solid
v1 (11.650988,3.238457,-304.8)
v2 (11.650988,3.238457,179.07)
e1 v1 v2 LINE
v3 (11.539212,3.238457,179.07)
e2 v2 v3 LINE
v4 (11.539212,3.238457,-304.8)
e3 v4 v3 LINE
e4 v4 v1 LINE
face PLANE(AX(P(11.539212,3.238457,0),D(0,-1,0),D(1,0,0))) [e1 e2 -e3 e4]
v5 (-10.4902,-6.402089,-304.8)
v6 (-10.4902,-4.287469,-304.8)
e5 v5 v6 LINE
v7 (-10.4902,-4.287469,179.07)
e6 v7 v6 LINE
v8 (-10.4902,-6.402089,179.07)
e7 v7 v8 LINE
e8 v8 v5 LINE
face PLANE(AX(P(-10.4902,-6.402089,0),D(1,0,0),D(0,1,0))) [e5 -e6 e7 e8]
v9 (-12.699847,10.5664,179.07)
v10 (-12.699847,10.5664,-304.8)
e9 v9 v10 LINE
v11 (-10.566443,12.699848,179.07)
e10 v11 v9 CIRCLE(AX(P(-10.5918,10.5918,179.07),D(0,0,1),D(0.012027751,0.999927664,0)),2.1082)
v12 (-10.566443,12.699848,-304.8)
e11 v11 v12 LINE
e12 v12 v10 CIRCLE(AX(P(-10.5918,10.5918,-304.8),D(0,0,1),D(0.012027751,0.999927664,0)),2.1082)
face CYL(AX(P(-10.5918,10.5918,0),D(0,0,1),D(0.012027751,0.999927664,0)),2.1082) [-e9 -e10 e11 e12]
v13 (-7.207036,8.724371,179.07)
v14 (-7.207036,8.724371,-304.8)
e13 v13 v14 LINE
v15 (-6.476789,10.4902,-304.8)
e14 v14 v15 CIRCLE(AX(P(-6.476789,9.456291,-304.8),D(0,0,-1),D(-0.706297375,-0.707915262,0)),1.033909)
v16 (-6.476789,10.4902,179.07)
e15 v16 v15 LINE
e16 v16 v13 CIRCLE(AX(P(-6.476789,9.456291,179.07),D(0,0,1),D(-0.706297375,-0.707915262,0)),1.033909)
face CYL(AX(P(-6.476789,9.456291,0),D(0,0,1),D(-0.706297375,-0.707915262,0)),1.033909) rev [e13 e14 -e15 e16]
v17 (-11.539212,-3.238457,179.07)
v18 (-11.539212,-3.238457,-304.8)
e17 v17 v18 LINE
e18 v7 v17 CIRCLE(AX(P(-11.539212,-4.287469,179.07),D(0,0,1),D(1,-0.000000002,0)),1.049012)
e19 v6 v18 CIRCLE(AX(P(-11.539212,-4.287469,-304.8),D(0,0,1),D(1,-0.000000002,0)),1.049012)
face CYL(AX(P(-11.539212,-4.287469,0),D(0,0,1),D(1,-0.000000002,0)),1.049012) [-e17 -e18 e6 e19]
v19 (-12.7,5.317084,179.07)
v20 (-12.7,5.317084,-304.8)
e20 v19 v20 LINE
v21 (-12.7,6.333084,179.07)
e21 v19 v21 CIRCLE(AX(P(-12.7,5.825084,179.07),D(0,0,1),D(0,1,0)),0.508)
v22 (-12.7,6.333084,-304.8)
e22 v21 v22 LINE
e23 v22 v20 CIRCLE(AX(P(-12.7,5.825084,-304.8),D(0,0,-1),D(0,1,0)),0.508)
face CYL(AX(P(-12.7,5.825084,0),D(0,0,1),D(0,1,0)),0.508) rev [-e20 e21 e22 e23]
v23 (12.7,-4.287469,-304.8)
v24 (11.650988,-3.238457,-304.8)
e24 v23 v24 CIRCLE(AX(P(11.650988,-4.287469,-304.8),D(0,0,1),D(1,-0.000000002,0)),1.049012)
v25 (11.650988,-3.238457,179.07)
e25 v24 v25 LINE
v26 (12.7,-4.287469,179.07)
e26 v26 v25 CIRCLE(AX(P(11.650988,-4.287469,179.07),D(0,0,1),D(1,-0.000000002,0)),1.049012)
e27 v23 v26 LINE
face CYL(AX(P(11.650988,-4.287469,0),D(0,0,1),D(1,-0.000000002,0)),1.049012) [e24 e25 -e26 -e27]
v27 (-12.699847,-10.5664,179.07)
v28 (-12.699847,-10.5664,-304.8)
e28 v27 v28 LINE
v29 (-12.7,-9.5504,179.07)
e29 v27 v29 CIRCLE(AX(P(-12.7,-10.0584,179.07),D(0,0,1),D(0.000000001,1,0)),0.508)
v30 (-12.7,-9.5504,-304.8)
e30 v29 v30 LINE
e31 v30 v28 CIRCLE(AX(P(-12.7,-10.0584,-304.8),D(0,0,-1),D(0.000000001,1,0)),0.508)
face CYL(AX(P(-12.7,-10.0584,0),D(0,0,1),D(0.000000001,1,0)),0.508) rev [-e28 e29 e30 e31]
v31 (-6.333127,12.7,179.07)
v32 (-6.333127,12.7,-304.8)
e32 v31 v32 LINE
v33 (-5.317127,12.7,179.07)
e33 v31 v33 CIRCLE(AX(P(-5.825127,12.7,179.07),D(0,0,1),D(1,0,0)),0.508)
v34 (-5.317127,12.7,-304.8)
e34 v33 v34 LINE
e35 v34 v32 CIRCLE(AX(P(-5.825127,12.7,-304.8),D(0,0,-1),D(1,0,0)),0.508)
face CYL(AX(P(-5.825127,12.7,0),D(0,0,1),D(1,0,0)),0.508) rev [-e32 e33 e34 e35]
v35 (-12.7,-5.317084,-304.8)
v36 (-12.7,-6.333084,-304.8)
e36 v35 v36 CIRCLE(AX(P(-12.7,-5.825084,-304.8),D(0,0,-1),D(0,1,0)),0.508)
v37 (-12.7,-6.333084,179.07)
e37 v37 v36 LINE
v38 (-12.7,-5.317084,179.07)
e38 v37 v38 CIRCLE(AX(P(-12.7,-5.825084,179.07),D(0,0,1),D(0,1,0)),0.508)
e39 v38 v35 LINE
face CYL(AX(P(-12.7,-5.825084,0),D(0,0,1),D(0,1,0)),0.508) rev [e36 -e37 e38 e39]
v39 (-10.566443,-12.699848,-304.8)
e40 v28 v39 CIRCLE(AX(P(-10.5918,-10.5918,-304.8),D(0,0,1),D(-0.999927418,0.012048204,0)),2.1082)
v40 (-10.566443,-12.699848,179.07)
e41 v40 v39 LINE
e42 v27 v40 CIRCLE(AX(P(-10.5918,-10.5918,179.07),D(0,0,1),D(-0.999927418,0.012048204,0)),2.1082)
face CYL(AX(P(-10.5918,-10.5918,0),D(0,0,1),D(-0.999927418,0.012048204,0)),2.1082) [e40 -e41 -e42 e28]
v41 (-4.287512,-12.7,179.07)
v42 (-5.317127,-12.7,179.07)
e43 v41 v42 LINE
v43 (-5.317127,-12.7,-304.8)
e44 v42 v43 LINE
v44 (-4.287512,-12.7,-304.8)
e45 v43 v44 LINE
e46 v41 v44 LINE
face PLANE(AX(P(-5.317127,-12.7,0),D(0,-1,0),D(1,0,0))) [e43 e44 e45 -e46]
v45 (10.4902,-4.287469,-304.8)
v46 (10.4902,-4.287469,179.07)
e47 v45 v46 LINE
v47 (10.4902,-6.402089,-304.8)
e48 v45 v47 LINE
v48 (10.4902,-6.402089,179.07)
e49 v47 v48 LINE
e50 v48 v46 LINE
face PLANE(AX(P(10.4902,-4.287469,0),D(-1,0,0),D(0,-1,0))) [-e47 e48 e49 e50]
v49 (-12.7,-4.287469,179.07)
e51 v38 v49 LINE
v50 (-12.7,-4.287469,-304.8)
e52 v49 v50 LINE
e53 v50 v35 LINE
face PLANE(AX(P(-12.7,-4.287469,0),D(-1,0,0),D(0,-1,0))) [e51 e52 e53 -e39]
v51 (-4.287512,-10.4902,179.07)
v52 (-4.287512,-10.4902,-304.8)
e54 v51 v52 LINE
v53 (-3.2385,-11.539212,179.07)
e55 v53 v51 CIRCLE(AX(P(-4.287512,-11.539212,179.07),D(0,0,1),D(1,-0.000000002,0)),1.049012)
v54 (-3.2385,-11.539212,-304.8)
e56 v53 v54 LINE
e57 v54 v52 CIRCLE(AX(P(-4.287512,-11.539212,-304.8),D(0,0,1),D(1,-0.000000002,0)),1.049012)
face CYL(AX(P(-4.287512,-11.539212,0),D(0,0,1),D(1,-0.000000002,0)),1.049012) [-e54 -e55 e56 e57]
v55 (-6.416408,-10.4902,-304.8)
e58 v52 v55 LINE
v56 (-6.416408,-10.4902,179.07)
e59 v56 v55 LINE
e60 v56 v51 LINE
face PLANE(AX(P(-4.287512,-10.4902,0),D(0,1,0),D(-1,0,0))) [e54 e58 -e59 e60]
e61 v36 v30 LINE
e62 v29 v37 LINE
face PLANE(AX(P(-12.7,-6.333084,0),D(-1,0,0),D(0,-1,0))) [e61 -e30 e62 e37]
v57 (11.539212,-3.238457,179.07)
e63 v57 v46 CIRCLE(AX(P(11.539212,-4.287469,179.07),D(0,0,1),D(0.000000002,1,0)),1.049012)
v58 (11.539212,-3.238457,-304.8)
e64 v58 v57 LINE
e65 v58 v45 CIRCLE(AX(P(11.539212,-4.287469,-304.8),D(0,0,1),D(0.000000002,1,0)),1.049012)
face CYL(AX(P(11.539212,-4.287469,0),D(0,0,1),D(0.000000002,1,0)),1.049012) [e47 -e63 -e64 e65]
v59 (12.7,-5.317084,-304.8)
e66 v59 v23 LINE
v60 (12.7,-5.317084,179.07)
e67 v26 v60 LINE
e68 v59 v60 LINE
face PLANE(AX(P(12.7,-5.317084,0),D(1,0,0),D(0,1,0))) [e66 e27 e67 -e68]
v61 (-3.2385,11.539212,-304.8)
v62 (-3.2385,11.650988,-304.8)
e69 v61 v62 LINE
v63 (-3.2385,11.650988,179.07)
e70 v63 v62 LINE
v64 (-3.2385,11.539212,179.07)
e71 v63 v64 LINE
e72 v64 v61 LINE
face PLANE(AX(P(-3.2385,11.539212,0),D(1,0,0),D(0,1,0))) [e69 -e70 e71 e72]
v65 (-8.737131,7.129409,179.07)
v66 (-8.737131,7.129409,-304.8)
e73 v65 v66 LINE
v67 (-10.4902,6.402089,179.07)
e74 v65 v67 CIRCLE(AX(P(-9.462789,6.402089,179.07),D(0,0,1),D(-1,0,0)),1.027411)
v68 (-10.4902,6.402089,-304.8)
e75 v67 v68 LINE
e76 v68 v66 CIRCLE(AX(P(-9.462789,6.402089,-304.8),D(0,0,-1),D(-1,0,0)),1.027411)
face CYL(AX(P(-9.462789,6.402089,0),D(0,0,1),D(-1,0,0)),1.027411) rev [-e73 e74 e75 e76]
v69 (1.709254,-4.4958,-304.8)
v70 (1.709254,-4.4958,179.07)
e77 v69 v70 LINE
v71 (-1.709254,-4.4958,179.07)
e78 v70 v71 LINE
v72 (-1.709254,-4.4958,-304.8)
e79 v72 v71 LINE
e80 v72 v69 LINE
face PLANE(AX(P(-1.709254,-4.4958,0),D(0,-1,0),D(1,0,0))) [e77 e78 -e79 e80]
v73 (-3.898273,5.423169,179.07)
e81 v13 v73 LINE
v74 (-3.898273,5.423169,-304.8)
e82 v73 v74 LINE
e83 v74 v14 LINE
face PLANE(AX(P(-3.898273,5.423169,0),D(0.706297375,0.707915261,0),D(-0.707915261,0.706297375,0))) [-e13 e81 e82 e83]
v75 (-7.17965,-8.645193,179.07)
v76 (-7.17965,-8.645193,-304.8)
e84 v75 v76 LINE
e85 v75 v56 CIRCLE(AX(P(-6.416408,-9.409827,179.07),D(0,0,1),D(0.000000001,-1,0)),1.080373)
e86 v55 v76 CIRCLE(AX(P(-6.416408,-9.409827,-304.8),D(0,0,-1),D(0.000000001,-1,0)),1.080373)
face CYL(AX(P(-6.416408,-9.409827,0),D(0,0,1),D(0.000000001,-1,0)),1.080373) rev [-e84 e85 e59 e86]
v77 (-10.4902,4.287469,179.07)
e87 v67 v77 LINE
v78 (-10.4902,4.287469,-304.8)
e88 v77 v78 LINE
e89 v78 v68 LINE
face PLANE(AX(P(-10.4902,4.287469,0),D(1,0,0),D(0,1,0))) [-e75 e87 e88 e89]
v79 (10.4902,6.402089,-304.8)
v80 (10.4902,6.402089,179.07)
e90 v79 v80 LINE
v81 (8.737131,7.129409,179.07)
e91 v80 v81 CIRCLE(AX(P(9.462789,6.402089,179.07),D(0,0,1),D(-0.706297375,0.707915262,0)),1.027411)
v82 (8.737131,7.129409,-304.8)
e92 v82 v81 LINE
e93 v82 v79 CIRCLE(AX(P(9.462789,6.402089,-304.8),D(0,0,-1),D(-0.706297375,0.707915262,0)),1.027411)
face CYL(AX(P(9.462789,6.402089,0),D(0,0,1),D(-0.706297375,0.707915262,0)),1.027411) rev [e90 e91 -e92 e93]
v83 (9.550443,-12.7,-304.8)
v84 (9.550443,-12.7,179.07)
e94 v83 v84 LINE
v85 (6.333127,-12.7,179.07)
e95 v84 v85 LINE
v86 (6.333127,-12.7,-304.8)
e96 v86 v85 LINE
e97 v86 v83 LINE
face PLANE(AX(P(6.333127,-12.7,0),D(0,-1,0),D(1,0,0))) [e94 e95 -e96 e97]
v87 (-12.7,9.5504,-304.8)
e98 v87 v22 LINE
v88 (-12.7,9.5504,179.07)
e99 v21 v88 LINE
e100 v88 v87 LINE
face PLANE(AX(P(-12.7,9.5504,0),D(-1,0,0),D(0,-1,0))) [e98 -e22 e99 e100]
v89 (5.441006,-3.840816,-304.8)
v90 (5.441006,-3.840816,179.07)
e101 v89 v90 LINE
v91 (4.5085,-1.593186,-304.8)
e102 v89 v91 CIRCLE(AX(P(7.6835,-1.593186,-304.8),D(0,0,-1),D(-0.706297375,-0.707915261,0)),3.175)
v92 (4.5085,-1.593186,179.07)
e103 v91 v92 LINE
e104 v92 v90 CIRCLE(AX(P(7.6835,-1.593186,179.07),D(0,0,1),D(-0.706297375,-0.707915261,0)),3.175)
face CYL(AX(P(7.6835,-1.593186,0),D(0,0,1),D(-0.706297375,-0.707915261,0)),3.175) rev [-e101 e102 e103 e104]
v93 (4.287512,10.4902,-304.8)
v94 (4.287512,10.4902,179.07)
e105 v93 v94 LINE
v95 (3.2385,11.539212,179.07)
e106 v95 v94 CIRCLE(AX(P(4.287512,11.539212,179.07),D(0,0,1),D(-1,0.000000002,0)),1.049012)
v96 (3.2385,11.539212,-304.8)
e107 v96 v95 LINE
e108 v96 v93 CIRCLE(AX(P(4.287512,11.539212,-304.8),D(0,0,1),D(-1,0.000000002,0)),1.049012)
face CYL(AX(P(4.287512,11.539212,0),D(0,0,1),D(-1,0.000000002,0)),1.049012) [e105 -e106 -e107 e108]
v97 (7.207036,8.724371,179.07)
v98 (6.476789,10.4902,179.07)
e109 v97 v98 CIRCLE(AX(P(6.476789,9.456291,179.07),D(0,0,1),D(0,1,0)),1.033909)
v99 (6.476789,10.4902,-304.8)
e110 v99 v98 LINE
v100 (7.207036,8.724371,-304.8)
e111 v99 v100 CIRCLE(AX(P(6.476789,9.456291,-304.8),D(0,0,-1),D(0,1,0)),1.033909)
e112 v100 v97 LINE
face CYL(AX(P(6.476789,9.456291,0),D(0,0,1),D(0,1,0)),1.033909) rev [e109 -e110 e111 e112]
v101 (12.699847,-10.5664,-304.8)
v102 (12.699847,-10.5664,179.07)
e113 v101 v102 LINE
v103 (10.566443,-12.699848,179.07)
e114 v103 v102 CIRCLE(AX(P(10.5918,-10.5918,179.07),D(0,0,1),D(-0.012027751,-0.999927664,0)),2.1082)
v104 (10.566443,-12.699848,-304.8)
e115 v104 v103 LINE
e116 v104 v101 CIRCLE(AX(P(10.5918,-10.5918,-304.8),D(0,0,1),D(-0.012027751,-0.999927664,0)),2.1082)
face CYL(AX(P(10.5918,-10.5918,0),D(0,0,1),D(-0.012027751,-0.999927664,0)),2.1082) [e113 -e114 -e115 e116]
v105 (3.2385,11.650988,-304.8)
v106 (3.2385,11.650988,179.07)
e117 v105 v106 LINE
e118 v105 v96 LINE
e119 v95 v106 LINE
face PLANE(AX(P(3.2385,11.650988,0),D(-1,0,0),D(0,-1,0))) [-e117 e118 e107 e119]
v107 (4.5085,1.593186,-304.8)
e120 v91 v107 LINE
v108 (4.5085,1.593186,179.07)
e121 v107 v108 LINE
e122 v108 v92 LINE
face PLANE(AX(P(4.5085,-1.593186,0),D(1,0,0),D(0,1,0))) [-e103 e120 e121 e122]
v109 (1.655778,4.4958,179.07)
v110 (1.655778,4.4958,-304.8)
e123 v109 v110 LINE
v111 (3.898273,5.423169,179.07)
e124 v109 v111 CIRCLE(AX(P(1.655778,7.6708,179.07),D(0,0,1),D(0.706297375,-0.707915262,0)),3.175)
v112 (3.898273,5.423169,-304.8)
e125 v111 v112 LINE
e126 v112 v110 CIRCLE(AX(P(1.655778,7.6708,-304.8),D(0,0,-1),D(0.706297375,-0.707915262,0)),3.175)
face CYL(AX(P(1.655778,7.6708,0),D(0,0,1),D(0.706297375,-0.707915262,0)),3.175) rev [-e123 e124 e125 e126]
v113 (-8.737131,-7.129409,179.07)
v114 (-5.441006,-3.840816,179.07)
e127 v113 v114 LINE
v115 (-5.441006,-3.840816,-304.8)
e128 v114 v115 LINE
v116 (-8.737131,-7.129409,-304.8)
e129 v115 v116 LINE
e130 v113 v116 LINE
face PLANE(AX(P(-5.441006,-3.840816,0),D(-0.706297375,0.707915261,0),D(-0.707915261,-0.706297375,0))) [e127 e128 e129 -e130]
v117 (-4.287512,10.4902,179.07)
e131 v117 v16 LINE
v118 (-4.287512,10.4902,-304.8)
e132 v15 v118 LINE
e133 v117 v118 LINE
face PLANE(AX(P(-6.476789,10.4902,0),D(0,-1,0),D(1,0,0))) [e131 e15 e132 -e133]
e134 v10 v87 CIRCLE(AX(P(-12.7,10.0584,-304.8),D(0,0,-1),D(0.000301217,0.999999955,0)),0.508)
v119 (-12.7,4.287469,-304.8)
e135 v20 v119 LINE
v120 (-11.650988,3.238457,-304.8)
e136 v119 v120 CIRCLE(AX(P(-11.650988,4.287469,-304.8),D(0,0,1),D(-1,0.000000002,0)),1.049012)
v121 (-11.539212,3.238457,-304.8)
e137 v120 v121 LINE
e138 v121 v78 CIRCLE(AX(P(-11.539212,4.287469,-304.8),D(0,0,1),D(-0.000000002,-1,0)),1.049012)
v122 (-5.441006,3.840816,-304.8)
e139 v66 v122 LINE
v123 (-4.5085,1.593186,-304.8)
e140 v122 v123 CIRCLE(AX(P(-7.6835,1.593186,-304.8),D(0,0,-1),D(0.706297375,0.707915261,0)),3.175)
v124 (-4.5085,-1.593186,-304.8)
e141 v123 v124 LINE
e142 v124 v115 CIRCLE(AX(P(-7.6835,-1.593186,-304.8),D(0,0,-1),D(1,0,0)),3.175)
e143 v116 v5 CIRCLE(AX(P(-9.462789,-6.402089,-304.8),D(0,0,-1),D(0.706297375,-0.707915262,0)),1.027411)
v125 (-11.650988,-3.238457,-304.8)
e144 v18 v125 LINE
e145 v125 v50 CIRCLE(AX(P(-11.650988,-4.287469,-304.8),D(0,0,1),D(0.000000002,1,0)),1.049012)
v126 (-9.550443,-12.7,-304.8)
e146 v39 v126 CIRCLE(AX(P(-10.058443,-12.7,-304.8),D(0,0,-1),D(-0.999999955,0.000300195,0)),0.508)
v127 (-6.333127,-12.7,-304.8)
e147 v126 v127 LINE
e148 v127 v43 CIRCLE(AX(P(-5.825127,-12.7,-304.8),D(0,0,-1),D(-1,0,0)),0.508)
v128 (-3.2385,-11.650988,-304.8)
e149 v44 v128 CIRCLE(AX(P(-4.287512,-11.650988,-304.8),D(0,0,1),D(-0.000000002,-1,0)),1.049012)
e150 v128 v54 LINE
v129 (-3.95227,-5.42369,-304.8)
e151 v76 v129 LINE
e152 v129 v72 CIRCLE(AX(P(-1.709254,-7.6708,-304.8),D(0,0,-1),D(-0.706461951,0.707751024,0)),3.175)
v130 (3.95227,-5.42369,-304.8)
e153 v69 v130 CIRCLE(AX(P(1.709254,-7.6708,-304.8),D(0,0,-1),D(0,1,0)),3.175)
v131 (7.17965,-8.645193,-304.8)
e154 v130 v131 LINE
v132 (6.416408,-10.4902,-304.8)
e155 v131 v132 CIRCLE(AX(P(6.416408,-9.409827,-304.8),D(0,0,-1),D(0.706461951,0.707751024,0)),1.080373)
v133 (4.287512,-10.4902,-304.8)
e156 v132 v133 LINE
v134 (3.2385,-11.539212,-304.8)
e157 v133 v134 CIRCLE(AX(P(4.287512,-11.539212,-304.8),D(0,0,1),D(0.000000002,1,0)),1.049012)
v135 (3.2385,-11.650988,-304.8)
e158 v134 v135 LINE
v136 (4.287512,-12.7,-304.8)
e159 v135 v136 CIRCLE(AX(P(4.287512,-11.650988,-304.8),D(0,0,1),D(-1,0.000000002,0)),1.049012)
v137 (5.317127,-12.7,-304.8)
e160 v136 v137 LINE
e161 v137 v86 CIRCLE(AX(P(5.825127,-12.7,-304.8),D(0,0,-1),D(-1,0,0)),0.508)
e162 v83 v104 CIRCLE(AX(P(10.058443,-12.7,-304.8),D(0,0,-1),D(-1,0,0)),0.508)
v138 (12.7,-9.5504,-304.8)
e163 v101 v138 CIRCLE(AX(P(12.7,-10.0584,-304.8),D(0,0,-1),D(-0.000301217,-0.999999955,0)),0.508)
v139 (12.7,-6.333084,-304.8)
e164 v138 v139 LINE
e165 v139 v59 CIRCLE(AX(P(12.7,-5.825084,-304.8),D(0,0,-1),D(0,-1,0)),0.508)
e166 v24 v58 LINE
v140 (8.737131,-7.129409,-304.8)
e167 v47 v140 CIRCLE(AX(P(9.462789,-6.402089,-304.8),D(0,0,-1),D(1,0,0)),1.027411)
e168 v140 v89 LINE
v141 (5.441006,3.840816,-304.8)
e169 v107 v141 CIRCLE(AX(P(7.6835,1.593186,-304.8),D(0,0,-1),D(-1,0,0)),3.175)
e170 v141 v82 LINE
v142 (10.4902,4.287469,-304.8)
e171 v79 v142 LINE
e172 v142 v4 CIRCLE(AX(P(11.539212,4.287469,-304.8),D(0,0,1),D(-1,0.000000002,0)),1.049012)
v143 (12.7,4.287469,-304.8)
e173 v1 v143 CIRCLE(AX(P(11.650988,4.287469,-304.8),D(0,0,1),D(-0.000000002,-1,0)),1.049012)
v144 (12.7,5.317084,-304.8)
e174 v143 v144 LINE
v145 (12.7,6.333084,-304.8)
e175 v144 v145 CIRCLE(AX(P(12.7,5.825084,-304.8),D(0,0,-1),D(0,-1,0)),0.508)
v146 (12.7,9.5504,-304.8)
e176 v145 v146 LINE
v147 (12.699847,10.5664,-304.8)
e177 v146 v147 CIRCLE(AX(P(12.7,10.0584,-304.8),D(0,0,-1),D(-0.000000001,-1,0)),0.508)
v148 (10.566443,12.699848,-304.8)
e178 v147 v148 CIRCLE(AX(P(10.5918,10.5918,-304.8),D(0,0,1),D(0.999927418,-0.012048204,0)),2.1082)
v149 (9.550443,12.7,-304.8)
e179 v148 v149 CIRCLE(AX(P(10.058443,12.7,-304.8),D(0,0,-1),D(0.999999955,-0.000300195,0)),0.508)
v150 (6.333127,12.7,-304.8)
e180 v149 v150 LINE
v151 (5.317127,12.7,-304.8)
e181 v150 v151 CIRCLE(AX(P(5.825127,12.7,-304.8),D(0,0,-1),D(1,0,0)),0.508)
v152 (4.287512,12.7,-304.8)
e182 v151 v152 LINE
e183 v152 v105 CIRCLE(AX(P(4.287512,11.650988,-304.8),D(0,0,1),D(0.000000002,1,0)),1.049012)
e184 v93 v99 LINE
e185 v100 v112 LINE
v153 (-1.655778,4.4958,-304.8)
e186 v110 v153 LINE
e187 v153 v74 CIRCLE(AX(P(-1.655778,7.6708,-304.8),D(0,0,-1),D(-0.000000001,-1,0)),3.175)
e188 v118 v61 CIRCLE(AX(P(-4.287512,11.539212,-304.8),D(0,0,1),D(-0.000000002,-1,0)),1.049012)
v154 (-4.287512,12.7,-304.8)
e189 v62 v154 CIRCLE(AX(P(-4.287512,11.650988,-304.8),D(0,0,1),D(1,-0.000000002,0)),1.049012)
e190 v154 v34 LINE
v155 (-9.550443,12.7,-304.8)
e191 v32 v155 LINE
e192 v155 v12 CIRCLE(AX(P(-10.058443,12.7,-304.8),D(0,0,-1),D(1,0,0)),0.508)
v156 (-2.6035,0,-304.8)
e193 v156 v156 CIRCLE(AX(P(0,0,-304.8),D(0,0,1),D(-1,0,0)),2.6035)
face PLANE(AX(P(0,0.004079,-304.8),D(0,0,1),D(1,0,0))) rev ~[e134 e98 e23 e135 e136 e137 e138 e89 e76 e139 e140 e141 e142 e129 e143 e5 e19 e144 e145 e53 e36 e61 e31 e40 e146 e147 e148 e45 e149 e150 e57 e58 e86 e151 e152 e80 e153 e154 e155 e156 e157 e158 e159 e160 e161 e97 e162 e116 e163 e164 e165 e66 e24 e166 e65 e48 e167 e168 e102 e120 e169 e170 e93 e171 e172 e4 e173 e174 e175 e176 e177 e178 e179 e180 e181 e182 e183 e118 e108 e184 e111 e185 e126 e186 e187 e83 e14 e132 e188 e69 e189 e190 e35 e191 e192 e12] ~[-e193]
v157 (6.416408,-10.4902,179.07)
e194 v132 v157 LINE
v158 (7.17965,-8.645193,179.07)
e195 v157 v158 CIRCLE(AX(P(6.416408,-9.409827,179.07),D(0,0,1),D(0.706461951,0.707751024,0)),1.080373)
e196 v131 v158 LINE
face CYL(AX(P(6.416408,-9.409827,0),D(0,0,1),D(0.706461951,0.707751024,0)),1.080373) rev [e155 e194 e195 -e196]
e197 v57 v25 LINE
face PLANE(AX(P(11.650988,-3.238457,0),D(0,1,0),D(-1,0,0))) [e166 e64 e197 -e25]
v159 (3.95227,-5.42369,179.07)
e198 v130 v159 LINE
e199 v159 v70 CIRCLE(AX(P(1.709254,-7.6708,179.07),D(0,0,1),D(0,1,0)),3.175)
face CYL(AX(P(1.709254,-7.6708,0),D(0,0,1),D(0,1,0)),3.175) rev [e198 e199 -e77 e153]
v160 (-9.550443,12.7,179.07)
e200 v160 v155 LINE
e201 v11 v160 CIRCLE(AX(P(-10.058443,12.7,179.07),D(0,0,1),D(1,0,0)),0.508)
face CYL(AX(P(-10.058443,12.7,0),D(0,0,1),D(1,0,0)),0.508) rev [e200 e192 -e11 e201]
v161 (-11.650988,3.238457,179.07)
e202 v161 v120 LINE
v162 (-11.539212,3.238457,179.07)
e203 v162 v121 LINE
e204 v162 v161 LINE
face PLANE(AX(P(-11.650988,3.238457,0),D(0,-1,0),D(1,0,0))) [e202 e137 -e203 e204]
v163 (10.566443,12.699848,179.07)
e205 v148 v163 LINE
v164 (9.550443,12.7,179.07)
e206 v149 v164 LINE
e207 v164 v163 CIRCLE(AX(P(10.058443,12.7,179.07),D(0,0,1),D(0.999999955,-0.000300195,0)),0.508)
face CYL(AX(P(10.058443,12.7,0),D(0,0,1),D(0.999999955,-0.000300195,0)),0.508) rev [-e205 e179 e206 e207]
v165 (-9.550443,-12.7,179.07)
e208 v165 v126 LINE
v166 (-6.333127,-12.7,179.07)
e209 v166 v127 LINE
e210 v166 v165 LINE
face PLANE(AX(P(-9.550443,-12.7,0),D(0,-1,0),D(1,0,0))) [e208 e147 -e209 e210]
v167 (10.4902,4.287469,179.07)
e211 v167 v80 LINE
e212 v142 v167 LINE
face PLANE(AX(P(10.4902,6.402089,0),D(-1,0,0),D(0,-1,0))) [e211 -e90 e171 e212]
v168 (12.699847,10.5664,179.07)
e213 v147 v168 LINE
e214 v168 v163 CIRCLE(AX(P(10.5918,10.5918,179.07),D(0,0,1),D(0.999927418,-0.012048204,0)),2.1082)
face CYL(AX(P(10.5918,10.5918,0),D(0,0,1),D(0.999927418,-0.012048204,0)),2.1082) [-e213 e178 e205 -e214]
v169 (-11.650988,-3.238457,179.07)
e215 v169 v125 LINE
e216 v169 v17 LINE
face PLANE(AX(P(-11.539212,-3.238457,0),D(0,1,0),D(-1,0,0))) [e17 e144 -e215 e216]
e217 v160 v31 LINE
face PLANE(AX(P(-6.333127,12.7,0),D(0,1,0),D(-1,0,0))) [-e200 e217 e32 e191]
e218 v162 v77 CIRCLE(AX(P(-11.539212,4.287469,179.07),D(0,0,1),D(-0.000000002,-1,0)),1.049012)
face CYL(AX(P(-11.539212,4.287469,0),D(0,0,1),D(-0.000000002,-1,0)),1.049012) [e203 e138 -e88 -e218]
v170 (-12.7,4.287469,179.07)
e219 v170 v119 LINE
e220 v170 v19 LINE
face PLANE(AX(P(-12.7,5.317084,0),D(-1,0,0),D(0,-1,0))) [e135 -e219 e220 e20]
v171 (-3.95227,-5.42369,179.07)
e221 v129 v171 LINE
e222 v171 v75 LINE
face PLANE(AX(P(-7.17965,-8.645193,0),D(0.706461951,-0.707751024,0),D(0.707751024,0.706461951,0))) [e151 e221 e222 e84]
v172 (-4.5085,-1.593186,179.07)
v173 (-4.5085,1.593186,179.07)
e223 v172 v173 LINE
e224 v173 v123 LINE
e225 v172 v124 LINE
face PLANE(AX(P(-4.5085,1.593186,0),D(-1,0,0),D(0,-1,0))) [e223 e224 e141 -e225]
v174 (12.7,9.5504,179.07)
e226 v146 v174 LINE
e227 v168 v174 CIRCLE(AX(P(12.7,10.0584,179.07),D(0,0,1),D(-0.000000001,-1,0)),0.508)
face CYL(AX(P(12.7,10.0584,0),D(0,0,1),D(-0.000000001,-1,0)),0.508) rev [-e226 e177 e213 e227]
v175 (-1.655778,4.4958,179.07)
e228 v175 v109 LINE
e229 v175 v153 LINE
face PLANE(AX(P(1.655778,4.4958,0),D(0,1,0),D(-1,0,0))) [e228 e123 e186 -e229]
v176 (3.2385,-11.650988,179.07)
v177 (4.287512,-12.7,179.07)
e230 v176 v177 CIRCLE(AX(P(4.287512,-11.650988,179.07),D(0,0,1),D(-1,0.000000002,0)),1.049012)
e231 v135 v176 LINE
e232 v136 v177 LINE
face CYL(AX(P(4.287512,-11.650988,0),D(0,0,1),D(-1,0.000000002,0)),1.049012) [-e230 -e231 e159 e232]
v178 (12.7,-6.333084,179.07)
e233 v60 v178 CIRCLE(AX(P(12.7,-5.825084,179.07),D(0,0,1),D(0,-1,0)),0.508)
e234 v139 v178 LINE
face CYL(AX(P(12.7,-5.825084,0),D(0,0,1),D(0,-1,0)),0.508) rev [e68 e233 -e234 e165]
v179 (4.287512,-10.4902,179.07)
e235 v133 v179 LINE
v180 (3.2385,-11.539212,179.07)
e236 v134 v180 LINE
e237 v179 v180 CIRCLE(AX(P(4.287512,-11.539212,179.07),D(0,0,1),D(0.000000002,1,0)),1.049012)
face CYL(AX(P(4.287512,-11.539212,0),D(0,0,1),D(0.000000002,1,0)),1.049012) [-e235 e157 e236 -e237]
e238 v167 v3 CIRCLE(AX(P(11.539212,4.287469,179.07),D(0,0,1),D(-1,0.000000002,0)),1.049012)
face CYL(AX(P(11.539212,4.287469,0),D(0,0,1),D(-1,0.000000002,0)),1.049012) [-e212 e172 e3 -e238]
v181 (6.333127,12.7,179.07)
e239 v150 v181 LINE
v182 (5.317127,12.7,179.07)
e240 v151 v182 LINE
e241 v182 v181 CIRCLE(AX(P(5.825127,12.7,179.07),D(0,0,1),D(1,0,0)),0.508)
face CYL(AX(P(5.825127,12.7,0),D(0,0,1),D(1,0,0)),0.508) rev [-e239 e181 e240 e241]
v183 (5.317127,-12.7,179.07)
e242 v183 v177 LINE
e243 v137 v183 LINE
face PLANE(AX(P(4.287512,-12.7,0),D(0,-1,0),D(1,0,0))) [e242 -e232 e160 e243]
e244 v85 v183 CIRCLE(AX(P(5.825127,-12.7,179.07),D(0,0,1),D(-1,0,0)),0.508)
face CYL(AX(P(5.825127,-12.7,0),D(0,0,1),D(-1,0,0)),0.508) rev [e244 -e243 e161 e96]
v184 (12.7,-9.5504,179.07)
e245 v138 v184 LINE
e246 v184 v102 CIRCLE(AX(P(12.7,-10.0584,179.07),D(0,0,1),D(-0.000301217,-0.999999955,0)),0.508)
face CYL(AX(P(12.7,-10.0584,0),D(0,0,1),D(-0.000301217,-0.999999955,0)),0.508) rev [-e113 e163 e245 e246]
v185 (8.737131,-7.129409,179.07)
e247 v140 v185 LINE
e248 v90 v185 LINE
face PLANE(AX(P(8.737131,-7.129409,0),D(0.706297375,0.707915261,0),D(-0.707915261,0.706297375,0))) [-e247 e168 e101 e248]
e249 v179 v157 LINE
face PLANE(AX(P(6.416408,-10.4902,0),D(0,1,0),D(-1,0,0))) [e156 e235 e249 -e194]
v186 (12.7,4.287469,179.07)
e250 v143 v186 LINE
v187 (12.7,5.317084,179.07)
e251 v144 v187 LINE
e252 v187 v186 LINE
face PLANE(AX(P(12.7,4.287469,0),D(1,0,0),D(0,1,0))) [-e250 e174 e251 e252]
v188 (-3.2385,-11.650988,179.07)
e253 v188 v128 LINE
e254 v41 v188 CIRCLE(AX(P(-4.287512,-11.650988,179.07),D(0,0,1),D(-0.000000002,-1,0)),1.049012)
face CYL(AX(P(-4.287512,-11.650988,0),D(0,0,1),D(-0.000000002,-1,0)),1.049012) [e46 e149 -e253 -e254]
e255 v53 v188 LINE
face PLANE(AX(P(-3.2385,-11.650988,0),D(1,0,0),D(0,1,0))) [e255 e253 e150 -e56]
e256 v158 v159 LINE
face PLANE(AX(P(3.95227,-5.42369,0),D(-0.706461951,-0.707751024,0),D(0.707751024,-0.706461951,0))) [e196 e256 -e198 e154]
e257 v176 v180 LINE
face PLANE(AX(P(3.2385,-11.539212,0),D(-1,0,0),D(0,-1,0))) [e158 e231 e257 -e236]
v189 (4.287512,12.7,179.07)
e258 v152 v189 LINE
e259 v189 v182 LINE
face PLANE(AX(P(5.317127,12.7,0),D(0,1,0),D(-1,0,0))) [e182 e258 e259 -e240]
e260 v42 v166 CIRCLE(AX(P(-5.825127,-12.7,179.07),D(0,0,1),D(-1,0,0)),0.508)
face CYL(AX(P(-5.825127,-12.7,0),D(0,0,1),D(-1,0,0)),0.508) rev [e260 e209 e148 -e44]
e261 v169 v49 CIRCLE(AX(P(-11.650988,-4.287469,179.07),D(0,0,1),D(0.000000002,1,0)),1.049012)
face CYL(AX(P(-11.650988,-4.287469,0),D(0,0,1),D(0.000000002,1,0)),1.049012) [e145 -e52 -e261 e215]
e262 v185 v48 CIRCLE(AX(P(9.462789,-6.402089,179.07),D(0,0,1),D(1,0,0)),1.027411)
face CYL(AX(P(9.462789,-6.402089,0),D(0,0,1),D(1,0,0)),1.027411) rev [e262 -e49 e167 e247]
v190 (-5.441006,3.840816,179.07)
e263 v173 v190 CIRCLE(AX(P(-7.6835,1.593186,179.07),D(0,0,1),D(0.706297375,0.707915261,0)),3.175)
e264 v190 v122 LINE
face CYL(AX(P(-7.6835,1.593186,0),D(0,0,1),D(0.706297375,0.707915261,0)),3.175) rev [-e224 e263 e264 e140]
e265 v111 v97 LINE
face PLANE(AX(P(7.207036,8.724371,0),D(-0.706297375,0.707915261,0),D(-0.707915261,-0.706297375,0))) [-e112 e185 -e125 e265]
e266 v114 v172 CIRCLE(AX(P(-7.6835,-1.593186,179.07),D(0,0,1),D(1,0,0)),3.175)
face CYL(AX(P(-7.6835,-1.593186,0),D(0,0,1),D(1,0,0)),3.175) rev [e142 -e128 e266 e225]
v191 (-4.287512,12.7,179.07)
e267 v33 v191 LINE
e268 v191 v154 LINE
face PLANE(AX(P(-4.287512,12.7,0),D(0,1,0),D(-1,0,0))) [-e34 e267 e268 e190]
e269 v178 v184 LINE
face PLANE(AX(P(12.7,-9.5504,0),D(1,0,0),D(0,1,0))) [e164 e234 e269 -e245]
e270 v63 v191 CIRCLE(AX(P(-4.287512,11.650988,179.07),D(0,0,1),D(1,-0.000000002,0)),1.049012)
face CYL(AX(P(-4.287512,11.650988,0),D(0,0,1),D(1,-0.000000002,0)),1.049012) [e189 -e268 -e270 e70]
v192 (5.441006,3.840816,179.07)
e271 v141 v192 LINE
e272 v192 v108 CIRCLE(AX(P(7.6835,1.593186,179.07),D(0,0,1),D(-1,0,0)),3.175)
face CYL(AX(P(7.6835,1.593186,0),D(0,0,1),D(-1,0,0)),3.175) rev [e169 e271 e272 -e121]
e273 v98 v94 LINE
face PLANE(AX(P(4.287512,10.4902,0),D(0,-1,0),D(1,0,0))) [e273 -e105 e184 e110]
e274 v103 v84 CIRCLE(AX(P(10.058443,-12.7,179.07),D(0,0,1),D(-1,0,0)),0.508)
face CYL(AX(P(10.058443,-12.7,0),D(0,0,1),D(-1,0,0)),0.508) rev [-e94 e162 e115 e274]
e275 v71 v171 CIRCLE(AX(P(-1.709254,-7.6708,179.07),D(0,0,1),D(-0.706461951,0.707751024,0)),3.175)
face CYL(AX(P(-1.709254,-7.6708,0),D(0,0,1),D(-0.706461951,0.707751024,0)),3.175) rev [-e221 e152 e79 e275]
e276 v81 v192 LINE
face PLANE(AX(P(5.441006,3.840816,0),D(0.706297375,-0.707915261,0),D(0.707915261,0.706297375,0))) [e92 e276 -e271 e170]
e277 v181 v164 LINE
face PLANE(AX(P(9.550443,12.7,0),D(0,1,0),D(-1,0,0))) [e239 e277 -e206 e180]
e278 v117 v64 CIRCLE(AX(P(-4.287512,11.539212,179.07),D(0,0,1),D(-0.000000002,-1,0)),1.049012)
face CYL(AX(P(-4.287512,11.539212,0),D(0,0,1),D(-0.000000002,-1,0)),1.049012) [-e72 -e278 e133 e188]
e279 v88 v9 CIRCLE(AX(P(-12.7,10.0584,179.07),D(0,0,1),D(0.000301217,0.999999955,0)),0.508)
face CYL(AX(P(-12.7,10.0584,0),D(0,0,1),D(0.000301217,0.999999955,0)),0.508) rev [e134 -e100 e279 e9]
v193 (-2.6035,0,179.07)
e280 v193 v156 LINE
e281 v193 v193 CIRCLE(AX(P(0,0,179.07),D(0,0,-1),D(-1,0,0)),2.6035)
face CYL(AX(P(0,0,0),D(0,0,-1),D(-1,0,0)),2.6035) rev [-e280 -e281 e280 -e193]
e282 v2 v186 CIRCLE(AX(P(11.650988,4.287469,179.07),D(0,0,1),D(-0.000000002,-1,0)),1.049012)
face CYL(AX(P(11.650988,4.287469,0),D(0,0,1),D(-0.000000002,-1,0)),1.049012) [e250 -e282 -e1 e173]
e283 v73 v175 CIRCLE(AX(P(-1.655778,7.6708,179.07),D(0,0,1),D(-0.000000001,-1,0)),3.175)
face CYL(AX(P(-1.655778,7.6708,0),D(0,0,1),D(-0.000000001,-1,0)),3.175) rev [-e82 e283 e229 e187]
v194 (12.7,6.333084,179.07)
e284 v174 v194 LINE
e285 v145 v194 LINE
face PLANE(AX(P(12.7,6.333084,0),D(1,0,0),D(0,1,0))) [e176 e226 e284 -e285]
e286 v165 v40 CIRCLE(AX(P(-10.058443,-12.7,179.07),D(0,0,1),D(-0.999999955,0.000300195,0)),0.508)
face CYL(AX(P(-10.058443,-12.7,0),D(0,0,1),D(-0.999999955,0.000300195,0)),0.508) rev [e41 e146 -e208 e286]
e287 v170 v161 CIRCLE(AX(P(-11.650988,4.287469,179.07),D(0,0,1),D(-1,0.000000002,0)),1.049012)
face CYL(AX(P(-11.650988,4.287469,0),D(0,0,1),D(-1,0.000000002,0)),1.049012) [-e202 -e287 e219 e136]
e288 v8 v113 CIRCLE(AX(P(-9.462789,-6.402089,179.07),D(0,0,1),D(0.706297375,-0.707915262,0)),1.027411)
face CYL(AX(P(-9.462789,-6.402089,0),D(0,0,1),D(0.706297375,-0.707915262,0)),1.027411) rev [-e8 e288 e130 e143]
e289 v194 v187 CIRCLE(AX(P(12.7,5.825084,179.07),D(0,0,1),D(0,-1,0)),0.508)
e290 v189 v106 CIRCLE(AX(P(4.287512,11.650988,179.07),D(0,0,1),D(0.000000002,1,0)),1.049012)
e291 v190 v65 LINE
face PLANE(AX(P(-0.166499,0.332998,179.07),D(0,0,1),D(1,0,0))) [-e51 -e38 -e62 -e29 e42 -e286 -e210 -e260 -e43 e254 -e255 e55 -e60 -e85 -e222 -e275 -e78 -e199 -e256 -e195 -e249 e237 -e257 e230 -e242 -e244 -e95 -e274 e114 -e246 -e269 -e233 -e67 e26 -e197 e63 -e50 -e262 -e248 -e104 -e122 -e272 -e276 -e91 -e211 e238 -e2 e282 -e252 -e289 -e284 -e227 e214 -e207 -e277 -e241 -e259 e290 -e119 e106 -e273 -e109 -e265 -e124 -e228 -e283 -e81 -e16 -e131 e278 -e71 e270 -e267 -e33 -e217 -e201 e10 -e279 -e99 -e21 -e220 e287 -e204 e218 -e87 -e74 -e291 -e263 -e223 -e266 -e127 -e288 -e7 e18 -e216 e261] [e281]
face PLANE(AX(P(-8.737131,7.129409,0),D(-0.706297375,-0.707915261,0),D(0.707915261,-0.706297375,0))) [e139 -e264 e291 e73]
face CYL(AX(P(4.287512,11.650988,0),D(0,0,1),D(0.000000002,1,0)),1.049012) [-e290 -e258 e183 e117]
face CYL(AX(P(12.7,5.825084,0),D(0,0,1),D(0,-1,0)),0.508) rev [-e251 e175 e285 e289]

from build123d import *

# Parameters (mm, degrees)
SKETCH1_R           = 2.6035
BOSS_EXTRUDE1_DEPTH = 304.8
SKETCH2_W           = 30.080863632
SKETCH2_H           = 32.411853065
CUT_EXTRUDE1_DEPTH  = 125.73


with BuildPart() as part:
    # Sketch1 → Boss-Extrude1 (new, symmetric)
    with BuildSketch(Plane.XY):
        with BuildLine():
            Line((-7.179650497, -8.645192506), (-3.952270251, -5.423690499))
            ThreePointArc((-3.952270251, -5.423690499), (-2.922936451, -4.736929036), (-1.709253557, -4.4958))
            Line((-1.709253557, -4.4958), (1.709253557, -4.4958))
            ThreePointArc((1.709253557, -4.4958), (2.922936451, -4.736929036), (3.952270251, -5.423690499))
            Line((3.952270251, -5.423690499), (7.179650497, -8.645192506))
            ThreePointArc((7.179650497, -8.645192506), (7.41473083, -9.822813117), (6.416408329, -10.4902))
            Line((6.416408329, -10.4902), (4.287512407, -10.4902))
            ThreePointArc((4.287512407, -10.4902), (3.54574862, -10.79744862), (3.2385, -11.539212407))
            Line((3.2385, -11.539212407), (3.2385, -11.650987593))
            ThreePointArc((3.2385, -11.650987593), (3.54574862, -12.39275138), (4.287512407, -12.7))
            Line((4.287512407, -12.7), (5.317126718, -12.7))
            ThreePointArc((5.317126718, -12.7), (5.825126718, -12.192), (6.333126718, -12.7))
            Line((6.333126718, -12.7), (9.550443118, -12.7))
            ThreePointArc((9.550443118, -12.7), (10.058366869, -12.192000006), (10.566443095, -12.699847501))
            ThreePointArc((10.566443095, -12.699847501), (12.082537762, -12.08250727), (12.699846982, -10.566399977))
            ThreePointArc((12.699846982, -10.566399977), (12.192000006, -10.058323491), (12.7, -9.5504))
            Line((12.7, -9.5504), (12.7, -6.3330836))
            ThreePointArc((12.7, -6.3330836), (12.192, -5.8250836), (12.7, -5.3170836))
            Line((12.7, -5.3170836), (12.7, -4.287469289))
            ThreePointArc((12.7, -4.287469289), (12.39275138, -3.545705502), (11.650987593, -3.238456882))
            Line((11.650987593, -3.238456882), (11.539212407, -3.238456882))
            ThreePointArc((11.539212407, -3.238456882), (10.79744862, -3.545705502), (10.4902, -4.287469289))
            Line((10.4902, -4.287469289), (10.4902, -6.402089023))
            ThreePointArc((10.4902, -6.402089023), (9.856505071, -7.351067942), (8.737131347, -7.129408934))
            Line((8.737131347, -7.129408934), (5.441005833, -3.840816462))
            ThreePointArc((5.441005833, -3.840816462), (4.750877967, -2.809883091), (4.5085, -1.593185507))
            Line((4.5085, -1.593185507), (4.5085, 1.593185507))
            ThreePointArc((4.5085, 1.593185507), (4.750877967, 2.809883091), (5.441005833, 3.840816462))
            Line((5.441005833, 3.840816462), (8.737131347, 7.129408934))
            ThreePointArc((8.737131347, 7.129408934), (9.856505071, 7.351067942), (10.4902, 6.402089023))
            Line((10.4902, 6.402089023), (10.4902, 4.287469289))
            ThreePointArc((10.4902, 4.287469289), (10.79744862, 3.545705502), (11.539212407, 3.238456882))
            Line((11.539212407, 3.238456882), (11.650987593, 3.238456882))
            ThreePointArc((11.650987593, 3.238456882), (12.39275138, 3.545705502), (12.7, 4.287469289))
            Line((12.7, 4.287469289), (12.7, 5.3170836))
            ThreePointArc((12.7, 5.3170836), (12.192, 5.8250836), (12.7, 6.3330836))
            Line((12.7, 6.3330836), (12.7, 9.5504))
            ThreePointArc((12.7, 9.5504), (12.192000006, 10.058323491), (12.699846982, 10.566399977))
            ThreePointArc((12.699846982, 10.566399977), (12.082537762, 12.08250727), (10.566443095, 12.699847501))
            ThreePointArc((10.566443095, 12.699847501), (10.058366869, 12.192000006), (9.550443118, 12.7))
            Line((9.550443118, 12.7), (6.333126718, 12.7))
            ThreePointArc((6.333126718, 12.7), (5.825126718, 12.192), (5.317126718, 12.7))
            Line((5.317126718, 12.7), (4.287512407, 12.7))
            ThreePointArc((4.287512407, 12.7), (3.54574862, 12.39275138), (3.2385, 11.650987593))
            Line((3.2385, 11.650987593), (3.2385, 11.539212407))
            ThreePointArc((3.2385, 11.539212407), (3.54574862, 10.79744862), (4.287512407, 10.4902))
            Line((4.287512407, 10.4902), (6.476788598, 10.4902))
            ThreePointArc((6.476788598, 10.4902), (7.432222385, 9.85140422), (7.207036008, 8.724370562))
            Line((7.207036008, 8.724370562), (3.898272566, 5.423169045))
            ThreePointArc((3.898272566, 5.423169045), (2.869120213, 4.736787962), (1.655778399, 4.4958))
            Line((1.655778399, 4.4958), (-1.655778399, 4.4958))
            ThreePointArc((-1.655778399, 4.4958), (-2.869120213, 4.736787962), (-3.898272566, 5.423169045))
            Line((-3.898272566, 5.423169045), (-7.207036008, 8.724370562))
            ThreePointArc((-7.207036008, 8.724370562), (-7.432222385, 9.85140422), (-6.476788598, 10.4902))
            Line((-6.476788598, 10.4902), (-4.287512407, 10.4902))
            ThreePointArc((-4.287512407, 10.4902), (-3.54574862, 10.79744862), (-3.2385, 11.539212407))
            Line((-3.2385, 11.539212407), (-3.2385, 11.650987593))
            ThreePointArc((-3.2385, 11.650987593), (-3.54574862, 12.39275138), (-4.287512407, 12.7))
            Line((-4.287512407, 12.7), (-5.317126718, 12.7))
            ThreePointArc((-5.317126718, 12.7), (-5.825126718, 12.192), (-6.333126718, 12.7))
            Line((-6.333126718, 12.7), (-9.550443118, 12.7))
            ThreePointArc((-9.550443118, 12.7), (-10.058366869, 12.192000006), (-10.566443095, 12.699847501))
            ThreePointArc((-10.566443095, 12.699847501), (-12.082537762, 12.08250727), (-12.699846982, 10.566399977))
            ThreePointArc((-12.699846982, 10.566399977), (-12.192000006, 10.058323491), (-12.7, 9.5504))
            Line((-12.7, 9.5504), (-12.7, 6.3330836))
            ThreePointArc((-12.7, 6.3330836), (-12.192, 5.8250836), (-12.7, 5.3170836))
            Line((-12.7, 5.3170836), (-12.7, 4.287469289))
            ThreePointArc((-12.7, 4.287469289), (-12.39275138, 3.545705502), (-11.650987593, 3.238456882))
            Line((-11.650987593, 3.238456882), (-11.539212407, 3.238456882))
            ThreePointArc((-11.539212407, 3.238456882), (-10.79744862, 3.545705502), (-10.4902, 4.287469289))
            Line((-10.4902, 4.287469289), (-10.4902, 6.402089023))
            ThreePointArc((-10.4902, 6.402089023), (-9.856505071, 7.351067942), (-8.737131347, 7.129408934))
            Line((-8.737131347, 7.129408934), (-5.441005833, 3.840816462))
            ThreePointArc((-5.441005833, 3.840816462), (-4.750877967, 2.809883091), (-4.5085, 1.593185507))
            Line((-4.5085, 1.593185507), (-4.5085, -1.593185507))
            ThreePointArc((-4.5085, -1.593185507), (-4.750877967, -2.809883091), (-5.441005833, -3.840816462))
            Line((-5.441005833, -3.840816462), (-8.737131347, -7.129408934))
            ThreePointArc((-8.737131347, -7.129408934), (-9.856505071, -7.351067942), (-10.4902, -6.402089023))
            Line((-10.4902, -6.402089023), (-10.4902, -4.287469289))
            ThreePointArc((-10.4902, -4.287469289), (-10.79744862, -3.545705502), (-11.539212407, -3.238456882))
            Line((-11.539212407, -3.238456882), (-11.650987593, -3.238456882))
            ThreePointArc((-11.650987593, -3.238456882), (-12.39275138, -3.545705502), (-12.7, -4.287469289))
            Line((-12.7, -4.287469289), (-12.7, -5.3170836))
            ThreePointArc((-12.7, -5.3170836), (-12.192, -5.8250836), (-12.7, -6.3330836))
            Line((-12.7, -6.3330836), (-12.7, -9.5504))
            ThreePointArc((-12.7, -9.5504), (-12.192000006, -10.058323491), (-12.699846982, -10.566399977))
            ThreePointArc((-12.699846982, -10.566399977), (-12.082537762, -12.08250727), (-10.566443095, -12.699847501))
            ThreePointArc((-10.566443095, -12.699847501), (-10.058366869, -12.192000006), (-9.550443118, -12.7))
            Line((-9.550443118, -12.7), (-6.333126718, -12.7))
            ThreePointArc((-6.333126718, -12.7), (-5.825126718, -12.192), (-5.317126718, -12.7))
            Line((-5.317126718, -12.7), (-4.287512407, -12.7))
            ThreePointArc((-4.287512407, -12.7), (-3.54574862, -12.39275138), (-3.2385, -11.650987593))
            Line((-3.2385, -11.650987593), (-3.2385, -11.539212407))
            ThreePointArc((-3.2385, -11.539212407), (-3.54574862, -10.79744862), (-4.287512407, -10.4902))
            Line((-4.287512407, -10.4902), (-6.416408329, -10.4902))
            ThreePointArc((-6.416408329, -10.4902), (-7.41473083, -9.822813117), (-7.179650497, -8.645192506))
        make_face()
        with Locations(Location((0, 0, 0), (0, 0, 180))):
            Circle(SKETCH1_R, mode=Mode.SUBTRACT)
    extrude(amount=BOSS_EXTRUDE1_DEPTH, both=True)

    # Sketch2 → Cut-Extrude1 (cut)
    with BuildSketch(Plane.XY.offset(304.8)):
        with Locations((-0.166499245, 0.33299849)):
            Rectangle(SKETCH2_W, SKETCH2_H)
    extrude(amount=-CUT_EXTRUDE1_DEPTH, mode=Mode.SUBTRACT)


solid = part.part
